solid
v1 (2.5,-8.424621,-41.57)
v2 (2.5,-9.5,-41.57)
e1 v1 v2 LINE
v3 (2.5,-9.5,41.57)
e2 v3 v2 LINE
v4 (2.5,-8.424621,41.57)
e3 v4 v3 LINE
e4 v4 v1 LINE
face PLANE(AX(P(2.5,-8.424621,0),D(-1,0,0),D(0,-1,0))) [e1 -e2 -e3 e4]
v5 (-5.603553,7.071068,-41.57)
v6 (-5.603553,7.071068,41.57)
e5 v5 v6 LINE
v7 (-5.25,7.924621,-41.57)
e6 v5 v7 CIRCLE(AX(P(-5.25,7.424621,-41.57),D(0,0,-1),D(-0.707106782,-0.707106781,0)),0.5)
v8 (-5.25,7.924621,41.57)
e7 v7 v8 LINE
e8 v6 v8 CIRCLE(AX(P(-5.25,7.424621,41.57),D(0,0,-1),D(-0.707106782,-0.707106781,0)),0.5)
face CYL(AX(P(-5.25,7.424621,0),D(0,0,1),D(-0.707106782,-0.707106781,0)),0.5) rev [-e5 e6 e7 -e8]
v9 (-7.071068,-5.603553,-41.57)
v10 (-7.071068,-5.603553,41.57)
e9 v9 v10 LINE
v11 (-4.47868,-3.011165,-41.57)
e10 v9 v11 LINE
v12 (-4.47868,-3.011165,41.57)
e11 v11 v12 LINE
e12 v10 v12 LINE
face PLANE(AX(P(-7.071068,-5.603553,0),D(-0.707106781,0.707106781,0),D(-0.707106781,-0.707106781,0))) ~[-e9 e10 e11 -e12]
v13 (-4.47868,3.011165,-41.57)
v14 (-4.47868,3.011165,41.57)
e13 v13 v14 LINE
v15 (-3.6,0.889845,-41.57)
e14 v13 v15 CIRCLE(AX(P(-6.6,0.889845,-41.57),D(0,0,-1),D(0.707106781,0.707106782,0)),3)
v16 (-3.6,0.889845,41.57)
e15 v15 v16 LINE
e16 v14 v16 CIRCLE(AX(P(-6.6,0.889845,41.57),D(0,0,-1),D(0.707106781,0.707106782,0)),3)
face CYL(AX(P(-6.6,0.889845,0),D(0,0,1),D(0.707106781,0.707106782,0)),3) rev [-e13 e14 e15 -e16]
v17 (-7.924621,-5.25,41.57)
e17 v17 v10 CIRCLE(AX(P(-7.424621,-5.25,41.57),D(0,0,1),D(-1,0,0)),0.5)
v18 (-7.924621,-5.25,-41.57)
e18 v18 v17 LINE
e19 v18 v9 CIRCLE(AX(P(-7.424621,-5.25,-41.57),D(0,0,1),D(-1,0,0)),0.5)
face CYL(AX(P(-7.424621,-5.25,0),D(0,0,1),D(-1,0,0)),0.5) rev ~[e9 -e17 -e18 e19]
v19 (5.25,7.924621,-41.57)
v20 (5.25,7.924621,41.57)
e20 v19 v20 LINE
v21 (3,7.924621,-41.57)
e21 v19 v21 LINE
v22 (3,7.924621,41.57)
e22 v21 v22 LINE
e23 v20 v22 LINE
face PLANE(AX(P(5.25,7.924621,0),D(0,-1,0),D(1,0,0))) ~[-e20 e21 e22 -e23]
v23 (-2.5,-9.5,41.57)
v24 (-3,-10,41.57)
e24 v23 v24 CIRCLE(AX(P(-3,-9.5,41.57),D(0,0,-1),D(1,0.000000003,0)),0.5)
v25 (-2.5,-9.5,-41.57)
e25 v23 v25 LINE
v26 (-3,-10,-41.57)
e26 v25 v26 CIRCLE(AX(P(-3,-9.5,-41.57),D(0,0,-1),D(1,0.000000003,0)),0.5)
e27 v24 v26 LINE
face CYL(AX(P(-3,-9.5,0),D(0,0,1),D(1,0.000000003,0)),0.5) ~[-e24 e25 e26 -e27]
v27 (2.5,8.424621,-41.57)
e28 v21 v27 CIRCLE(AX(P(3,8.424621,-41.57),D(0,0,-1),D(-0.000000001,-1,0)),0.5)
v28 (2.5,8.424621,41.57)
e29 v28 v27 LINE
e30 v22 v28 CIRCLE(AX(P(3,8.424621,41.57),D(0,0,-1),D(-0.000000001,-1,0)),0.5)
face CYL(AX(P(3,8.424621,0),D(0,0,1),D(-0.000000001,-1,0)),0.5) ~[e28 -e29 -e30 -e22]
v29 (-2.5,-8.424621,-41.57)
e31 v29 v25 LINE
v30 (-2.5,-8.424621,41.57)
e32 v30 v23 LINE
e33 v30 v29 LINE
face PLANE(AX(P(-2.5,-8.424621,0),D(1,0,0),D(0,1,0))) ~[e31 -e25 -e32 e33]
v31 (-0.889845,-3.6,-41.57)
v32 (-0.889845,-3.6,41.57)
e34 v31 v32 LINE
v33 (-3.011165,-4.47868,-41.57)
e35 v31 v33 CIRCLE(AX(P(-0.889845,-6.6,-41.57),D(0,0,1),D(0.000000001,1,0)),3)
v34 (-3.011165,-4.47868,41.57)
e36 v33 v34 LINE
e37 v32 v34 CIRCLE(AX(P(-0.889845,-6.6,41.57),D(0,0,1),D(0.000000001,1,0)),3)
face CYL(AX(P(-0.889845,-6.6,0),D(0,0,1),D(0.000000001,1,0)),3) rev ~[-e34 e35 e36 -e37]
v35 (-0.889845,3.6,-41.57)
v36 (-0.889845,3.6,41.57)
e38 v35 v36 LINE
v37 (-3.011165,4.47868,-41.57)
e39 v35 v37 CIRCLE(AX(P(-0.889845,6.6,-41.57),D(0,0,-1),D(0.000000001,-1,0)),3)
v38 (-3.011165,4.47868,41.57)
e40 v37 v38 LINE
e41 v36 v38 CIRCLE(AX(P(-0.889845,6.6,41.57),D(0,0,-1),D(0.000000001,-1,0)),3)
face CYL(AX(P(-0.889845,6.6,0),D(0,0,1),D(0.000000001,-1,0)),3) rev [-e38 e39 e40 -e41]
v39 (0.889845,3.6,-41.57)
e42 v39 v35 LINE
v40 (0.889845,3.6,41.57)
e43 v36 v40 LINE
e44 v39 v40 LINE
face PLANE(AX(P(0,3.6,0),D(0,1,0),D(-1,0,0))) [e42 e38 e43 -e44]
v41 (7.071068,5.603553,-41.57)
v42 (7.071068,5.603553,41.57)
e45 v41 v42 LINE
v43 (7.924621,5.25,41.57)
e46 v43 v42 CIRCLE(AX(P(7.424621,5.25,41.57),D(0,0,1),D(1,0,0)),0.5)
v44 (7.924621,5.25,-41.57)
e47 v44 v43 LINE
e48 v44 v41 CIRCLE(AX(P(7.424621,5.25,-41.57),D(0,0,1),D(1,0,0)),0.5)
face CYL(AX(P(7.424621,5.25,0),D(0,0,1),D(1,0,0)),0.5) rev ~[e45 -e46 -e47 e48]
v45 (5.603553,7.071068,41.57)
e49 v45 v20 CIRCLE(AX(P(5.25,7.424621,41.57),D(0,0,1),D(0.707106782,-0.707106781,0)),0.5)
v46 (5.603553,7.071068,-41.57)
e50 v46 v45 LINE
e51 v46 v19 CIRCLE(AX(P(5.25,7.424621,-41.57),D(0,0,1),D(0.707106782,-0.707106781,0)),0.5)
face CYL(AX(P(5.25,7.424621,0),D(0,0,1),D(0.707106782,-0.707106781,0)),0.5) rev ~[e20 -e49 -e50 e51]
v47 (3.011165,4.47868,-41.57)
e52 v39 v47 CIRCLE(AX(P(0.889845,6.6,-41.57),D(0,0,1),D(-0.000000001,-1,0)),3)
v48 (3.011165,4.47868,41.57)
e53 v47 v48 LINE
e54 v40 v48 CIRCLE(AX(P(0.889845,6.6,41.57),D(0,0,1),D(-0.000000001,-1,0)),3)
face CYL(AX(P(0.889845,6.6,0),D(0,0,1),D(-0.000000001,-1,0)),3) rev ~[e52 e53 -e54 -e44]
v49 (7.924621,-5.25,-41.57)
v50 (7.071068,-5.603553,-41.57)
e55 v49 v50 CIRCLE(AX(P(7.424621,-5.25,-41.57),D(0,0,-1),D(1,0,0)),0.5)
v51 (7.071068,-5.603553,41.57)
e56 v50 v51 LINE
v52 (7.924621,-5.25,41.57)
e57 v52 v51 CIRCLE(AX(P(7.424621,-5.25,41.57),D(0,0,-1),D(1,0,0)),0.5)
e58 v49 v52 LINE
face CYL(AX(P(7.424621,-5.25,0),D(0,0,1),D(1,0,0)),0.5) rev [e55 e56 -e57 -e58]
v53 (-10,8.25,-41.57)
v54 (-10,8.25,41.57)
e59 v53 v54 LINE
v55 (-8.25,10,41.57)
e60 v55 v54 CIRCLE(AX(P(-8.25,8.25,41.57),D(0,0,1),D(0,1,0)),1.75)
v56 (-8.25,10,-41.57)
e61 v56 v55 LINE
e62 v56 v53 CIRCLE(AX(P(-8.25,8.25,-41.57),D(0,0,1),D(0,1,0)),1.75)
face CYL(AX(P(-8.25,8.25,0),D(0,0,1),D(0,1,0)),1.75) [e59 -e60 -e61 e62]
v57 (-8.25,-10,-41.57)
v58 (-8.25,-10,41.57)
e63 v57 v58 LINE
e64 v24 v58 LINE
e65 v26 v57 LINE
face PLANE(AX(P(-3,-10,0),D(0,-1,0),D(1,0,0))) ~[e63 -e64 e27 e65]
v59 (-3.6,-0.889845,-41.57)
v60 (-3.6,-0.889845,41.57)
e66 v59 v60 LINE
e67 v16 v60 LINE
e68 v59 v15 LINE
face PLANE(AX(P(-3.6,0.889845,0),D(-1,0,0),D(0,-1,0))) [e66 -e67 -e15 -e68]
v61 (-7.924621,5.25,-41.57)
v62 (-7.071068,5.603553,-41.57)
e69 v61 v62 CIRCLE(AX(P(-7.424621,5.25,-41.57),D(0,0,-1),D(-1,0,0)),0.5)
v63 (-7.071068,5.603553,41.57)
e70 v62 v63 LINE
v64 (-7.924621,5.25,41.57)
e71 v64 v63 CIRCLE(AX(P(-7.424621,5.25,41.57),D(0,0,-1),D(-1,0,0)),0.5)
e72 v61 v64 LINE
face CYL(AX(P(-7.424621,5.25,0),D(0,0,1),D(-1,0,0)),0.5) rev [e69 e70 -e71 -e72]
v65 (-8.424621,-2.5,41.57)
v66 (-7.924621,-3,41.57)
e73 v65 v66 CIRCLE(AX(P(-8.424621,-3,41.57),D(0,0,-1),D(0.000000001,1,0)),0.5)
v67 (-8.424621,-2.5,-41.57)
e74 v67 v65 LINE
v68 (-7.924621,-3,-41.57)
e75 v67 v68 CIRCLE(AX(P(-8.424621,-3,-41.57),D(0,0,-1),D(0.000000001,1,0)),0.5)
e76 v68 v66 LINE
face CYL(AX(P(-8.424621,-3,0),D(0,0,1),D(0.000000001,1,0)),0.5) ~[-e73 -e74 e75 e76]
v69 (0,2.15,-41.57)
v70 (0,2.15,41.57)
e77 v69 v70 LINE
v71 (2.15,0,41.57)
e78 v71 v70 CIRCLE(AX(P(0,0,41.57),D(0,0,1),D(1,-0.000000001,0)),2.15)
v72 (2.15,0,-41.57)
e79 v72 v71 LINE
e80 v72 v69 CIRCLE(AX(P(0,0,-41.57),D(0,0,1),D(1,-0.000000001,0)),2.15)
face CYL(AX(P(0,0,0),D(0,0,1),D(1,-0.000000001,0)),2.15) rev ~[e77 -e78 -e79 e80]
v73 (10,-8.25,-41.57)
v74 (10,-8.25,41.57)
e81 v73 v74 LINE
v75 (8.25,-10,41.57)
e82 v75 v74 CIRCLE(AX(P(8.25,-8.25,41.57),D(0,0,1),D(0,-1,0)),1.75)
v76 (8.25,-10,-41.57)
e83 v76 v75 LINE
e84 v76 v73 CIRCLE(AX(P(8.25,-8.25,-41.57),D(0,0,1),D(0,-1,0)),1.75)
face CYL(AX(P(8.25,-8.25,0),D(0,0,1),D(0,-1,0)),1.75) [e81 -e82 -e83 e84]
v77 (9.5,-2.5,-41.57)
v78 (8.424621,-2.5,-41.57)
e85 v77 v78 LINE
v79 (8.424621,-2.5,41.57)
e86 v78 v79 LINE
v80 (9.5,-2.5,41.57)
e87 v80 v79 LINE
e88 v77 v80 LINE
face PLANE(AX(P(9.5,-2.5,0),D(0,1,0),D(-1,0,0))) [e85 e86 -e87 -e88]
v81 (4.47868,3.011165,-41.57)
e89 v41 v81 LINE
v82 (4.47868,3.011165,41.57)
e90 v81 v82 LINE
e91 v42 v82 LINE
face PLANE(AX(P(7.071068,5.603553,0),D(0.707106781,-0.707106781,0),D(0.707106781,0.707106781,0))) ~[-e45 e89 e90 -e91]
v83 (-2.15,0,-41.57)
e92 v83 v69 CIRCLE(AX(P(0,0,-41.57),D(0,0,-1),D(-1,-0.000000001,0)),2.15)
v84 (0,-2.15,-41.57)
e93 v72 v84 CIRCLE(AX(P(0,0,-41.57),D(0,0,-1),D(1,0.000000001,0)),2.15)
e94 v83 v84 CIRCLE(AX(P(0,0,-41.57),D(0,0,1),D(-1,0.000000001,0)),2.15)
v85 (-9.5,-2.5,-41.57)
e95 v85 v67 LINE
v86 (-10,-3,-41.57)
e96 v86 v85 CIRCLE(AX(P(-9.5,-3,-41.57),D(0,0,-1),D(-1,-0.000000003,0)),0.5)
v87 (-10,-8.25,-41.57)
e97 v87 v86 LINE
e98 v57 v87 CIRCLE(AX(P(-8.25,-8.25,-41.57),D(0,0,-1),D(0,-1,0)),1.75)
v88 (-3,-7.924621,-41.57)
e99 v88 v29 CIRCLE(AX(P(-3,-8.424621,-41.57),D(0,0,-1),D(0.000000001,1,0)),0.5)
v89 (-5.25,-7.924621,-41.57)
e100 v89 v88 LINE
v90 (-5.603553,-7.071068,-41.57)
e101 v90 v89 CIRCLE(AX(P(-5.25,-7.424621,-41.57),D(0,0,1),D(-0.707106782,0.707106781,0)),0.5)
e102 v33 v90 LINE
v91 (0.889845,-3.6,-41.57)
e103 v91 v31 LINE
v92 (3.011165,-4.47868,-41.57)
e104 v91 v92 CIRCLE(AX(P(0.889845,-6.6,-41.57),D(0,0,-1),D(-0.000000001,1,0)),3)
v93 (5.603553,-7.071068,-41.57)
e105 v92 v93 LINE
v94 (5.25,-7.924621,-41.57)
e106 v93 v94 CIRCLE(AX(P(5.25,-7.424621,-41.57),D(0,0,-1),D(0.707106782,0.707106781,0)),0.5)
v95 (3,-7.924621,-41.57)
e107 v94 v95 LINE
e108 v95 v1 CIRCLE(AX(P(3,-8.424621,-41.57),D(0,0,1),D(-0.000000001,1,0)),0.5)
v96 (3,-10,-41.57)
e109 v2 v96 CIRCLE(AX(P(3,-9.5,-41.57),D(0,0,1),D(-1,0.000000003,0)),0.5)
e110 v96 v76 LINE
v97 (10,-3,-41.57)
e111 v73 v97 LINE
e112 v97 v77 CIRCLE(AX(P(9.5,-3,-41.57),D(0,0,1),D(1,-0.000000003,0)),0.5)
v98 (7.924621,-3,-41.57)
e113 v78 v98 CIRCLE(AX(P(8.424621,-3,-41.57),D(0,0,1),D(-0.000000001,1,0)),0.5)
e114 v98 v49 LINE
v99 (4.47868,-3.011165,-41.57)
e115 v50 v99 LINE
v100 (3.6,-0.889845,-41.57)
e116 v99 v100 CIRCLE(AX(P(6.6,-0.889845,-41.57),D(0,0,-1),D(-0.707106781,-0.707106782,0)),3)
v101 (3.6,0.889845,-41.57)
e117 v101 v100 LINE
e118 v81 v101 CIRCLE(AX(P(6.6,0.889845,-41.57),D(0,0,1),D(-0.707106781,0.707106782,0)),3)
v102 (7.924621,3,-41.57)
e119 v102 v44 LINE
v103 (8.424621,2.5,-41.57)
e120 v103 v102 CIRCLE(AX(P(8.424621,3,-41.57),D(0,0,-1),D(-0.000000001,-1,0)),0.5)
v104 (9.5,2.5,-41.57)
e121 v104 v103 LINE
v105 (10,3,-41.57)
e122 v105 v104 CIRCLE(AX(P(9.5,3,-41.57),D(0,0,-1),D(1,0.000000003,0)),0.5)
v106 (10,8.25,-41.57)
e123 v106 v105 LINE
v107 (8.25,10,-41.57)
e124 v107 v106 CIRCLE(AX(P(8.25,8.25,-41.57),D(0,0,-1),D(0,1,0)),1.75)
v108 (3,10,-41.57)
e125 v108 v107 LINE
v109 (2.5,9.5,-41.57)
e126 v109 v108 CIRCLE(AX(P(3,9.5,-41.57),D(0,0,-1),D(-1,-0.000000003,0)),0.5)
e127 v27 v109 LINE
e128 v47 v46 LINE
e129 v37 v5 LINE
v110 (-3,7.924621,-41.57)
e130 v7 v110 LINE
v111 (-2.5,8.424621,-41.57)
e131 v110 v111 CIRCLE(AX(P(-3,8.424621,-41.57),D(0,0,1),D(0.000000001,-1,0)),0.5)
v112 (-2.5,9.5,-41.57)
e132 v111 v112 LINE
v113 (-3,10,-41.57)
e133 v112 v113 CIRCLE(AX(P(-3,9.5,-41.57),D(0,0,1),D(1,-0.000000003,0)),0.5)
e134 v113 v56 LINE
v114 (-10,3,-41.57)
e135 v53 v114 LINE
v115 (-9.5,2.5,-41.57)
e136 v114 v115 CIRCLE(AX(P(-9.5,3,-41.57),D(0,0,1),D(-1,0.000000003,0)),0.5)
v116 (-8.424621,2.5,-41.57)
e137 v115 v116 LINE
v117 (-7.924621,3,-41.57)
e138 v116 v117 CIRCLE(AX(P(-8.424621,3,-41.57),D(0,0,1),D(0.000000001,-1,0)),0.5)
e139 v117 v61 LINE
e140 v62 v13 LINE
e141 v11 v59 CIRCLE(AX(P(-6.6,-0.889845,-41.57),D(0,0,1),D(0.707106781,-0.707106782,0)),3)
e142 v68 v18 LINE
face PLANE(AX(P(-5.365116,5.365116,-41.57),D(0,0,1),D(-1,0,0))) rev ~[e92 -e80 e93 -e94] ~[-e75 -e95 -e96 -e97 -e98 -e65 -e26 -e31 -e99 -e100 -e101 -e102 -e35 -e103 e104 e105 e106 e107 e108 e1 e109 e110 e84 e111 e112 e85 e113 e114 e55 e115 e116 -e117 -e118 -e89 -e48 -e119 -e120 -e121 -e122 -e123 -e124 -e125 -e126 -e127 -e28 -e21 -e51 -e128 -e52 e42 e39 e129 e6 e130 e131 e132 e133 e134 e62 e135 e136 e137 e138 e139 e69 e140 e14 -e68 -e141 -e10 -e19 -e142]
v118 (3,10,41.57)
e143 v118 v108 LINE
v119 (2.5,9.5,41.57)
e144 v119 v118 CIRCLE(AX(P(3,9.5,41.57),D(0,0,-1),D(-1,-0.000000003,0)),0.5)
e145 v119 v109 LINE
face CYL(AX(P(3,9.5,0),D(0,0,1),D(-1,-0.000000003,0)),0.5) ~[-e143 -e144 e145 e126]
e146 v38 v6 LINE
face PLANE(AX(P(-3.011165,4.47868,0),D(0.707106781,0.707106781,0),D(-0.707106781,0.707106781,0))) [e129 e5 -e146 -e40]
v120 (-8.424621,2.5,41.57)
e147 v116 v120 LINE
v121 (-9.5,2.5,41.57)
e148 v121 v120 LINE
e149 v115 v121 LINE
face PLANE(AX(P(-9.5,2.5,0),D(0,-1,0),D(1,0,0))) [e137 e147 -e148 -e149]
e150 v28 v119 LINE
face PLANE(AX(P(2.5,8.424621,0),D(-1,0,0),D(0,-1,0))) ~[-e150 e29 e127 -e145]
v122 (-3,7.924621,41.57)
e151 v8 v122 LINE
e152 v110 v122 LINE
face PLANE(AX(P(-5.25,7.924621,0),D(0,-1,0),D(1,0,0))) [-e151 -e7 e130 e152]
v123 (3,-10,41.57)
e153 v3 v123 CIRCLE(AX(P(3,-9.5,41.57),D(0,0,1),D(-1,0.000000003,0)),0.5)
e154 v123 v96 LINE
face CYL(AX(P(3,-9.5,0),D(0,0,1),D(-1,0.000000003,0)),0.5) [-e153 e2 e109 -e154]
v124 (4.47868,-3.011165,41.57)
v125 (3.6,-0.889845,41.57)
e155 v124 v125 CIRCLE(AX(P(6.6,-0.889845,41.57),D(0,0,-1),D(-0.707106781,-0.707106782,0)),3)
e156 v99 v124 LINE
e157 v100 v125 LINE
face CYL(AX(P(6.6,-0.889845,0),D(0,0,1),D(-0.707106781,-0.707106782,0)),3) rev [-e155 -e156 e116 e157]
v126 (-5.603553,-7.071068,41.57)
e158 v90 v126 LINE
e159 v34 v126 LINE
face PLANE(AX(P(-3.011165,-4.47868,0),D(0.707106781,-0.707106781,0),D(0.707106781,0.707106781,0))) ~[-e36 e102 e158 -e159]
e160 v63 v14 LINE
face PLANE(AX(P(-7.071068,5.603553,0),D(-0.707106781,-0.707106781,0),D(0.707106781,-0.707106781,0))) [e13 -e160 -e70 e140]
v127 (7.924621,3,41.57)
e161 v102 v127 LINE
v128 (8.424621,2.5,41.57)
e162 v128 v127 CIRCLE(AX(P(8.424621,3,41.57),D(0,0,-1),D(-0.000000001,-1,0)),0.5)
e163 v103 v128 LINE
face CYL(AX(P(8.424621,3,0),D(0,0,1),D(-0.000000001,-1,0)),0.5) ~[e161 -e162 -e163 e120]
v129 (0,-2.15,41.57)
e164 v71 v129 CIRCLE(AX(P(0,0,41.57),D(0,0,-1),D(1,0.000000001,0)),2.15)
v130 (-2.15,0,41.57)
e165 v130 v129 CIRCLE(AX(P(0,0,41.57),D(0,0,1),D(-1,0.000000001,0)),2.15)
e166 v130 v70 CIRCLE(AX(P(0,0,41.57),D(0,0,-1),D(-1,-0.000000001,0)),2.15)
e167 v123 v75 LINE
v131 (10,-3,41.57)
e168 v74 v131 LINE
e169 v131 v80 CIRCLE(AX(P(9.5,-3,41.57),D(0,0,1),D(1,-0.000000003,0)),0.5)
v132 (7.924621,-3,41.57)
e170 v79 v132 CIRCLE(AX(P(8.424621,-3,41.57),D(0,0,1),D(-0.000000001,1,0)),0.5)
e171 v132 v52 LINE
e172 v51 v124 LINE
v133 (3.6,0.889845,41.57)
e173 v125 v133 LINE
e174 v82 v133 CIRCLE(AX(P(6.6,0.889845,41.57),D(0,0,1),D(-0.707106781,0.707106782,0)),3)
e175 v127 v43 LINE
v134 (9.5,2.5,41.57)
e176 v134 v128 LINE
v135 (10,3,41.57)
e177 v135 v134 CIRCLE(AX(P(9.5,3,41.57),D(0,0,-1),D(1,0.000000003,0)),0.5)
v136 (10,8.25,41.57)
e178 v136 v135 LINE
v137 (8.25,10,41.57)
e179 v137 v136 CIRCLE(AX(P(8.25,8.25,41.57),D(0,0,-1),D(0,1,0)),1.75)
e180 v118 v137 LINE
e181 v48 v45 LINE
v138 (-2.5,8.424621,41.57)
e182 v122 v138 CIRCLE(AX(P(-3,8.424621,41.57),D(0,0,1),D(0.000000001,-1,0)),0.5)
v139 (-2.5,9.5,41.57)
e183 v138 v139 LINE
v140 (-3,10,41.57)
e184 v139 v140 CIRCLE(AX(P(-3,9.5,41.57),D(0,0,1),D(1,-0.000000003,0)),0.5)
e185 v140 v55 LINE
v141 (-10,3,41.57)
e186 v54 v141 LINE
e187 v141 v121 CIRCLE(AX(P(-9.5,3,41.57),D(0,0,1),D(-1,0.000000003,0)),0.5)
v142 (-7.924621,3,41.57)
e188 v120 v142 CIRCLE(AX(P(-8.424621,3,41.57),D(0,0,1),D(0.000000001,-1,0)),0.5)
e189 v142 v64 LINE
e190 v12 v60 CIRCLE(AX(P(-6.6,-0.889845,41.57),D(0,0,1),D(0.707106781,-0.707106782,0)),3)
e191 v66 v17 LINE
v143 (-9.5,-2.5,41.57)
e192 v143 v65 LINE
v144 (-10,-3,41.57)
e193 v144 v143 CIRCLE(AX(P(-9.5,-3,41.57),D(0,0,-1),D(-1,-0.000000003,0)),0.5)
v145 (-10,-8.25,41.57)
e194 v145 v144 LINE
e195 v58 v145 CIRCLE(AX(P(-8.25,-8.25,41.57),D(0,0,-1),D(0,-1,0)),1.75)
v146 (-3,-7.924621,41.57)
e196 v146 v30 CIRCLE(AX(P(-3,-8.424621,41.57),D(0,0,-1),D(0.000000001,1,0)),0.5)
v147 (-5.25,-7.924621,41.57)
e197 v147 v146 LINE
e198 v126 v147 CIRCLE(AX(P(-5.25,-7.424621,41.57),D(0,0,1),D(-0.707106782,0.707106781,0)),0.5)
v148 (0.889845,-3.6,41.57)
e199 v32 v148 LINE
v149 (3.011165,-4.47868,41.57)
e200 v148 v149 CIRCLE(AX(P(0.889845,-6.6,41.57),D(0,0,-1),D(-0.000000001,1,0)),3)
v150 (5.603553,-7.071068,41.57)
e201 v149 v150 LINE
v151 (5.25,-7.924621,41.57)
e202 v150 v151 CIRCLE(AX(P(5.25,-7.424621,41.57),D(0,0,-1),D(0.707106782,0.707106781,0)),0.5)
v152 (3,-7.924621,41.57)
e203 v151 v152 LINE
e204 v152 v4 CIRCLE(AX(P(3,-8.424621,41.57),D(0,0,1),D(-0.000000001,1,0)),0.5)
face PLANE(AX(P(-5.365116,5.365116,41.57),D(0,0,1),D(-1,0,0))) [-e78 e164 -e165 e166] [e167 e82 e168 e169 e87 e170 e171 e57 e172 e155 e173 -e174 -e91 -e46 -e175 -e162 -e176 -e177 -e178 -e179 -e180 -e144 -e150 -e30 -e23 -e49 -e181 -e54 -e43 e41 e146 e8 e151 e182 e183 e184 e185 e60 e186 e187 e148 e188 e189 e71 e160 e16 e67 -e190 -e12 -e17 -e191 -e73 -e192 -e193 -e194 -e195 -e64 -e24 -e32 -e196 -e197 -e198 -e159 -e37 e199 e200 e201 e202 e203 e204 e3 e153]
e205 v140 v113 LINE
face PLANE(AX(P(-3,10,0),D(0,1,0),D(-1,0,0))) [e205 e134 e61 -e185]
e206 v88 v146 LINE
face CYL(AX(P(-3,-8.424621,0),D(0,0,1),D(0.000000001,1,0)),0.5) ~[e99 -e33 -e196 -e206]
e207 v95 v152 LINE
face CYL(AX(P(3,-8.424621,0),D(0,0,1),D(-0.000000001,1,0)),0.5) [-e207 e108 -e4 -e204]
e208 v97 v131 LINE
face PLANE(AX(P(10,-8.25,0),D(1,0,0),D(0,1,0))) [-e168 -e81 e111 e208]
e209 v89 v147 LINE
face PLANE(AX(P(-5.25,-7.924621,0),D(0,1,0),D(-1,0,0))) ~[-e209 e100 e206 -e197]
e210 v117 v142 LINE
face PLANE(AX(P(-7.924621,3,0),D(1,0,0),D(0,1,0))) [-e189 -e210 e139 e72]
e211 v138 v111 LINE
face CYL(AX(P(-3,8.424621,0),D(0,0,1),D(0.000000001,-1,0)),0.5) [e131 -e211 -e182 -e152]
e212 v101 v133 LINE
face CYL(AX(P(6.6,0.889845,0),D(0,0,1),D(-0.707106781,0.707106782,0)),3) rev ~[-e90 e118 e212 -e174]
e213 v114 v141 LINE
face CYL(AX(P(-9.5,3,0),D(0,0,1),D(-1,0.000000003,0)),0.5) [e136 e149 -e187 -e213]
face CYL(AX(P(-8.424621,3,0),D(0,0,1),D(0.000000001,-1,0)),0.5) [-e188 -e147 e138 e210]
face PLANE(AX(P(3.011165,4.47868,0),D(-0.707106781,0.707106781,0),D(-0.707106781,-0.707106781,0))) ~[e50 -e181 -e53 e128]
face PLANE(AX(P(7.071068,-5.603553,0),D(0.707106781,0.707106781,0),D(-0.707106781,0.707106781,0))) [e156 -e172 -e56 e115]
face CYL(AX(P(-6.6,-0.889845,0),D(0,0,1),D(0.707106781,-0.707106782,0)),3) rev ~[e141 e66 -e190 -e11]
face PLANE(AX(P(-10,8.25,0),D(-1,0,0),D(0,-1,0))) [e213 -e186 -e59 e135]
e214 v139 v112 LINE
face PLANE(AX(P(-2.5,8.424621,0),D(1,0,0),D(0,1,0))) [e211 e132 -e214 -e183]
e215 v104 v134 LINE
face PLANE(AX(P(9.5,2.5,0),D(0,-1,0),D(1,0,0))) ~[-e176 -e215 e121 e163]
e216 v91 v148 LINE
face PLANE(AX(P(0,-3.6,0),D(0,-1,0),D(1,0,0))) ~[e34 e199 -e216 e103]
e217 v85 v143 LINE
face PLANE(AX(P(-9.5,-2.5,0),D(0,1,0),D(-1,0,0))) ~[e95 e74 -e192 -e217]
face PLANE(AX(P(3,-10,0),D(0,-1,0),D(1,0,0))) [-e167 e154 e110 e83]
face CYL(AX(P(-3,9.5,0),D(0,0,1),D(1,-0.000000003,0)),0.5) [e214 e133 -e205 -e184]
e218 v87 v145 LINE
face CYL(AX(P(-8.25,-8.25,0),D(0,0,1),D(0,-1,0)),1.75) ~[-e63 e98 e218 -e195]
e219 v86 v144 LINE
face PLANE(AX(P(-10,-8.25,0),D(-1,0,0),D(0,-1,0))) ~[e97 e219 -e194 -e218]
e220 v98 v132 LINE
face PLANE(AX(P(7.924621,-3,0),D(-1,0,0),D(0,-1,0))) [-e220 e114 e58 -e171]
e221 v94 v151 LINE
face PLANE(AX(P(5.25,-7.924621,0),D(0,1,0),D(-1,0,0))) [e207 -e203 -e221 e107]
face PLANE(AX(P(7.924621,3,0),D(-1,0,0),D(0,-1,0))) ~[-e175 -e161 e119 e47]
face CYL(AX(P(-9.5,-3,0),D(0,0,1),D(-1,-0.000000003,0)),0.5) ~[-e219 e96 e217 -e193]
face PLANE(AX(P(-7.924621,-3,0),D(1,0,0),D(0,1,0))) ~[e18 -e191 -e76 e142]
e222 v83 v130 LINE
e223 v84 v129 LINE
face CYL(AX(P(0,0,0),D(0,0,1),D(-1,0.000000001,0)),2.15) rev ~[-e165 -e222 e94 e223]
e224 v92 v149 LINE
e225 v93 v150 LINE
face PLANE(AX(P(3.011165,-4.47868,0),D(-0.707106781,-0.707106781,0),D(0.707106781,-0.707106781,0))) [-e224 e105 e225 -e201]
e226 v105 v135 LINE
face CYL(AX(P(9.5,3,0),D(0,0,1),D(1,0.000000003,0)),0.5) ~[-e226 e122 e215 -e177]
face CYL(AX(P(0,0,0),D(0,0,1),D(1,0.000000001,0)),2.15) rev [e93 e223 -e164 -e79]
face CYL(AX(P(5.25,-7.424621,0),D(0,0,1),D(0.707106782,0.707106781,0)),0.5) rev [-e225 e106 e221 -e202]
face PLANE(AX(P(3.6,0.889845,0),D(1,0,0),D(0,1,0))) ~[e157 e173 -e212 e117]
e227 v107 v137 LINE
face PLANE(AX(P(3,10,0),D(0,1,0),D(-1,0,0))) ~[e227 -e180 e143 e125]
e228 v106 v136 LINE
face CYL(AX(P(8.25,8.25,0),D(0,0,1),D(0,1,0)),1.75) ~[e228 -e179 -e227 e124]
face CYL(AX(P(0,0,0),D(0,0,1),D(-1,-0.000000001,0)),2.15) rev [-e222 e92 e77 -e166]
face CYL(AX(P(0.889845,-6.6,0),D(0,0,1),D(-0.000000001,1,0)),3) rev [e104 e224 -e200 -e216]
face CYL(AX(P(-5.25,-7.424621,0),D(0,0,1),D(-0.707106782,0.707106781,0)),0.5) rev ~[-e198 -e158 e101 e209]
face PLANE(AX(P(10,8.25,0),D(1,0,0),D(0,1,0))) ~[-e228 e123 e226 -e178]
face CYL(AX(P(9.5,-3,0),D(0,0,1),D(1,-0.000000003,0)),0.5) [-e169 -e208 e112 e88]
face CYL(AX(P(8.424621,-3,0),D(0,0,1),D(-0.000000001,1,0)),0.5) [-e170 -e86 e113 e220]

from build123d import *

# Parameters (mm, degrees)
BOSS_EXTRUDE1_DEPTH = 41.57


with BuildPart() as part:
    # Sketch4 → Boss-Extrude1 (new body, symmetric)
    with BuildSketch(Plane.XY):
        with BuildLine():
            Line((3, -10), (8.25, -10))
            ThreePointArc((8.25, -10), (9.487436867, -9.487436867), (10, -8.25))
            Line((10, -8.25), (10, -3))
            ThreePointArc((10, -3), (9.853553391, -2.646446609), (9.5, -2.5))
            Line((9.5, -2.5), (8.424621202, -2.5))
            ThreePointArc((8.424621202, -2.5), (8.071067812, -2.646446609), (7.924621202, -3))
            Line((7.924621202, -3), (7.924621202, -5.25))
            ThreePointArc((7.924621202, -5.25), (7.615962919, -5.711939766), (7.071067812, -5.603553391))
            Line((7.071067812, -5.603553391), (4.478679656, -3.011165235))
            ThreePointArc((4.478679656, -3.011165235), (3.828361402, -2.037895189), (3.6, -0.889844892))
            Line((3.6, -0.889844892), (3.6, 0))
            Line((3.6, 0), (2.15, 0))
            ThreePointArc((2.15, 0), (1.52027958, -1.52027958), (0, -2.15))
            Line((0, -2.15), (0, -3.6))
            Line((0, -3.6), (0.889844892, -3.6))
            ThreePointArc((0.889844892, -3.6), (2.037895189, -3.828361402), (3.011165235, -4.478679656))
            Line((3.011165235, -4.478679656), (5.603553391, -7.071067812))
            ThreePointArc((5.603553391, -7.071067812), (5.711939766, -7.615962919), (5.25, -7.924621202))
            Line((5.25, -7.924621202), (3, -7.924621202))
            ThreePointArc((3, -7.924621202), (2.646446609, -8.071067812), (2.5, -8.424621202))
            Line((2.5, -8.424621202), (2.5, -9.5))
            ThreePointArc((2.5, -9.5), (2.646446609, -9.853553391), (3, -10))
        make_face()
    extrude(amount=BOSS_EXTRUDE1_DEPTH, both=True)

    # Mirror1: part across plane


with BuildPart() as part_1:
    add(part.part)
    add(part.part.mirror(Plane(origin=(0, 0, 0), x_dir=(0, 0, 1), z_dir=(1, 0, 0))))

    # Mirror2: part across plane


with BuildPart() as part_2:
    add(part_1.part)
    add(part_1.part.mirror(Plane.ZX))


solid = part_2.part
